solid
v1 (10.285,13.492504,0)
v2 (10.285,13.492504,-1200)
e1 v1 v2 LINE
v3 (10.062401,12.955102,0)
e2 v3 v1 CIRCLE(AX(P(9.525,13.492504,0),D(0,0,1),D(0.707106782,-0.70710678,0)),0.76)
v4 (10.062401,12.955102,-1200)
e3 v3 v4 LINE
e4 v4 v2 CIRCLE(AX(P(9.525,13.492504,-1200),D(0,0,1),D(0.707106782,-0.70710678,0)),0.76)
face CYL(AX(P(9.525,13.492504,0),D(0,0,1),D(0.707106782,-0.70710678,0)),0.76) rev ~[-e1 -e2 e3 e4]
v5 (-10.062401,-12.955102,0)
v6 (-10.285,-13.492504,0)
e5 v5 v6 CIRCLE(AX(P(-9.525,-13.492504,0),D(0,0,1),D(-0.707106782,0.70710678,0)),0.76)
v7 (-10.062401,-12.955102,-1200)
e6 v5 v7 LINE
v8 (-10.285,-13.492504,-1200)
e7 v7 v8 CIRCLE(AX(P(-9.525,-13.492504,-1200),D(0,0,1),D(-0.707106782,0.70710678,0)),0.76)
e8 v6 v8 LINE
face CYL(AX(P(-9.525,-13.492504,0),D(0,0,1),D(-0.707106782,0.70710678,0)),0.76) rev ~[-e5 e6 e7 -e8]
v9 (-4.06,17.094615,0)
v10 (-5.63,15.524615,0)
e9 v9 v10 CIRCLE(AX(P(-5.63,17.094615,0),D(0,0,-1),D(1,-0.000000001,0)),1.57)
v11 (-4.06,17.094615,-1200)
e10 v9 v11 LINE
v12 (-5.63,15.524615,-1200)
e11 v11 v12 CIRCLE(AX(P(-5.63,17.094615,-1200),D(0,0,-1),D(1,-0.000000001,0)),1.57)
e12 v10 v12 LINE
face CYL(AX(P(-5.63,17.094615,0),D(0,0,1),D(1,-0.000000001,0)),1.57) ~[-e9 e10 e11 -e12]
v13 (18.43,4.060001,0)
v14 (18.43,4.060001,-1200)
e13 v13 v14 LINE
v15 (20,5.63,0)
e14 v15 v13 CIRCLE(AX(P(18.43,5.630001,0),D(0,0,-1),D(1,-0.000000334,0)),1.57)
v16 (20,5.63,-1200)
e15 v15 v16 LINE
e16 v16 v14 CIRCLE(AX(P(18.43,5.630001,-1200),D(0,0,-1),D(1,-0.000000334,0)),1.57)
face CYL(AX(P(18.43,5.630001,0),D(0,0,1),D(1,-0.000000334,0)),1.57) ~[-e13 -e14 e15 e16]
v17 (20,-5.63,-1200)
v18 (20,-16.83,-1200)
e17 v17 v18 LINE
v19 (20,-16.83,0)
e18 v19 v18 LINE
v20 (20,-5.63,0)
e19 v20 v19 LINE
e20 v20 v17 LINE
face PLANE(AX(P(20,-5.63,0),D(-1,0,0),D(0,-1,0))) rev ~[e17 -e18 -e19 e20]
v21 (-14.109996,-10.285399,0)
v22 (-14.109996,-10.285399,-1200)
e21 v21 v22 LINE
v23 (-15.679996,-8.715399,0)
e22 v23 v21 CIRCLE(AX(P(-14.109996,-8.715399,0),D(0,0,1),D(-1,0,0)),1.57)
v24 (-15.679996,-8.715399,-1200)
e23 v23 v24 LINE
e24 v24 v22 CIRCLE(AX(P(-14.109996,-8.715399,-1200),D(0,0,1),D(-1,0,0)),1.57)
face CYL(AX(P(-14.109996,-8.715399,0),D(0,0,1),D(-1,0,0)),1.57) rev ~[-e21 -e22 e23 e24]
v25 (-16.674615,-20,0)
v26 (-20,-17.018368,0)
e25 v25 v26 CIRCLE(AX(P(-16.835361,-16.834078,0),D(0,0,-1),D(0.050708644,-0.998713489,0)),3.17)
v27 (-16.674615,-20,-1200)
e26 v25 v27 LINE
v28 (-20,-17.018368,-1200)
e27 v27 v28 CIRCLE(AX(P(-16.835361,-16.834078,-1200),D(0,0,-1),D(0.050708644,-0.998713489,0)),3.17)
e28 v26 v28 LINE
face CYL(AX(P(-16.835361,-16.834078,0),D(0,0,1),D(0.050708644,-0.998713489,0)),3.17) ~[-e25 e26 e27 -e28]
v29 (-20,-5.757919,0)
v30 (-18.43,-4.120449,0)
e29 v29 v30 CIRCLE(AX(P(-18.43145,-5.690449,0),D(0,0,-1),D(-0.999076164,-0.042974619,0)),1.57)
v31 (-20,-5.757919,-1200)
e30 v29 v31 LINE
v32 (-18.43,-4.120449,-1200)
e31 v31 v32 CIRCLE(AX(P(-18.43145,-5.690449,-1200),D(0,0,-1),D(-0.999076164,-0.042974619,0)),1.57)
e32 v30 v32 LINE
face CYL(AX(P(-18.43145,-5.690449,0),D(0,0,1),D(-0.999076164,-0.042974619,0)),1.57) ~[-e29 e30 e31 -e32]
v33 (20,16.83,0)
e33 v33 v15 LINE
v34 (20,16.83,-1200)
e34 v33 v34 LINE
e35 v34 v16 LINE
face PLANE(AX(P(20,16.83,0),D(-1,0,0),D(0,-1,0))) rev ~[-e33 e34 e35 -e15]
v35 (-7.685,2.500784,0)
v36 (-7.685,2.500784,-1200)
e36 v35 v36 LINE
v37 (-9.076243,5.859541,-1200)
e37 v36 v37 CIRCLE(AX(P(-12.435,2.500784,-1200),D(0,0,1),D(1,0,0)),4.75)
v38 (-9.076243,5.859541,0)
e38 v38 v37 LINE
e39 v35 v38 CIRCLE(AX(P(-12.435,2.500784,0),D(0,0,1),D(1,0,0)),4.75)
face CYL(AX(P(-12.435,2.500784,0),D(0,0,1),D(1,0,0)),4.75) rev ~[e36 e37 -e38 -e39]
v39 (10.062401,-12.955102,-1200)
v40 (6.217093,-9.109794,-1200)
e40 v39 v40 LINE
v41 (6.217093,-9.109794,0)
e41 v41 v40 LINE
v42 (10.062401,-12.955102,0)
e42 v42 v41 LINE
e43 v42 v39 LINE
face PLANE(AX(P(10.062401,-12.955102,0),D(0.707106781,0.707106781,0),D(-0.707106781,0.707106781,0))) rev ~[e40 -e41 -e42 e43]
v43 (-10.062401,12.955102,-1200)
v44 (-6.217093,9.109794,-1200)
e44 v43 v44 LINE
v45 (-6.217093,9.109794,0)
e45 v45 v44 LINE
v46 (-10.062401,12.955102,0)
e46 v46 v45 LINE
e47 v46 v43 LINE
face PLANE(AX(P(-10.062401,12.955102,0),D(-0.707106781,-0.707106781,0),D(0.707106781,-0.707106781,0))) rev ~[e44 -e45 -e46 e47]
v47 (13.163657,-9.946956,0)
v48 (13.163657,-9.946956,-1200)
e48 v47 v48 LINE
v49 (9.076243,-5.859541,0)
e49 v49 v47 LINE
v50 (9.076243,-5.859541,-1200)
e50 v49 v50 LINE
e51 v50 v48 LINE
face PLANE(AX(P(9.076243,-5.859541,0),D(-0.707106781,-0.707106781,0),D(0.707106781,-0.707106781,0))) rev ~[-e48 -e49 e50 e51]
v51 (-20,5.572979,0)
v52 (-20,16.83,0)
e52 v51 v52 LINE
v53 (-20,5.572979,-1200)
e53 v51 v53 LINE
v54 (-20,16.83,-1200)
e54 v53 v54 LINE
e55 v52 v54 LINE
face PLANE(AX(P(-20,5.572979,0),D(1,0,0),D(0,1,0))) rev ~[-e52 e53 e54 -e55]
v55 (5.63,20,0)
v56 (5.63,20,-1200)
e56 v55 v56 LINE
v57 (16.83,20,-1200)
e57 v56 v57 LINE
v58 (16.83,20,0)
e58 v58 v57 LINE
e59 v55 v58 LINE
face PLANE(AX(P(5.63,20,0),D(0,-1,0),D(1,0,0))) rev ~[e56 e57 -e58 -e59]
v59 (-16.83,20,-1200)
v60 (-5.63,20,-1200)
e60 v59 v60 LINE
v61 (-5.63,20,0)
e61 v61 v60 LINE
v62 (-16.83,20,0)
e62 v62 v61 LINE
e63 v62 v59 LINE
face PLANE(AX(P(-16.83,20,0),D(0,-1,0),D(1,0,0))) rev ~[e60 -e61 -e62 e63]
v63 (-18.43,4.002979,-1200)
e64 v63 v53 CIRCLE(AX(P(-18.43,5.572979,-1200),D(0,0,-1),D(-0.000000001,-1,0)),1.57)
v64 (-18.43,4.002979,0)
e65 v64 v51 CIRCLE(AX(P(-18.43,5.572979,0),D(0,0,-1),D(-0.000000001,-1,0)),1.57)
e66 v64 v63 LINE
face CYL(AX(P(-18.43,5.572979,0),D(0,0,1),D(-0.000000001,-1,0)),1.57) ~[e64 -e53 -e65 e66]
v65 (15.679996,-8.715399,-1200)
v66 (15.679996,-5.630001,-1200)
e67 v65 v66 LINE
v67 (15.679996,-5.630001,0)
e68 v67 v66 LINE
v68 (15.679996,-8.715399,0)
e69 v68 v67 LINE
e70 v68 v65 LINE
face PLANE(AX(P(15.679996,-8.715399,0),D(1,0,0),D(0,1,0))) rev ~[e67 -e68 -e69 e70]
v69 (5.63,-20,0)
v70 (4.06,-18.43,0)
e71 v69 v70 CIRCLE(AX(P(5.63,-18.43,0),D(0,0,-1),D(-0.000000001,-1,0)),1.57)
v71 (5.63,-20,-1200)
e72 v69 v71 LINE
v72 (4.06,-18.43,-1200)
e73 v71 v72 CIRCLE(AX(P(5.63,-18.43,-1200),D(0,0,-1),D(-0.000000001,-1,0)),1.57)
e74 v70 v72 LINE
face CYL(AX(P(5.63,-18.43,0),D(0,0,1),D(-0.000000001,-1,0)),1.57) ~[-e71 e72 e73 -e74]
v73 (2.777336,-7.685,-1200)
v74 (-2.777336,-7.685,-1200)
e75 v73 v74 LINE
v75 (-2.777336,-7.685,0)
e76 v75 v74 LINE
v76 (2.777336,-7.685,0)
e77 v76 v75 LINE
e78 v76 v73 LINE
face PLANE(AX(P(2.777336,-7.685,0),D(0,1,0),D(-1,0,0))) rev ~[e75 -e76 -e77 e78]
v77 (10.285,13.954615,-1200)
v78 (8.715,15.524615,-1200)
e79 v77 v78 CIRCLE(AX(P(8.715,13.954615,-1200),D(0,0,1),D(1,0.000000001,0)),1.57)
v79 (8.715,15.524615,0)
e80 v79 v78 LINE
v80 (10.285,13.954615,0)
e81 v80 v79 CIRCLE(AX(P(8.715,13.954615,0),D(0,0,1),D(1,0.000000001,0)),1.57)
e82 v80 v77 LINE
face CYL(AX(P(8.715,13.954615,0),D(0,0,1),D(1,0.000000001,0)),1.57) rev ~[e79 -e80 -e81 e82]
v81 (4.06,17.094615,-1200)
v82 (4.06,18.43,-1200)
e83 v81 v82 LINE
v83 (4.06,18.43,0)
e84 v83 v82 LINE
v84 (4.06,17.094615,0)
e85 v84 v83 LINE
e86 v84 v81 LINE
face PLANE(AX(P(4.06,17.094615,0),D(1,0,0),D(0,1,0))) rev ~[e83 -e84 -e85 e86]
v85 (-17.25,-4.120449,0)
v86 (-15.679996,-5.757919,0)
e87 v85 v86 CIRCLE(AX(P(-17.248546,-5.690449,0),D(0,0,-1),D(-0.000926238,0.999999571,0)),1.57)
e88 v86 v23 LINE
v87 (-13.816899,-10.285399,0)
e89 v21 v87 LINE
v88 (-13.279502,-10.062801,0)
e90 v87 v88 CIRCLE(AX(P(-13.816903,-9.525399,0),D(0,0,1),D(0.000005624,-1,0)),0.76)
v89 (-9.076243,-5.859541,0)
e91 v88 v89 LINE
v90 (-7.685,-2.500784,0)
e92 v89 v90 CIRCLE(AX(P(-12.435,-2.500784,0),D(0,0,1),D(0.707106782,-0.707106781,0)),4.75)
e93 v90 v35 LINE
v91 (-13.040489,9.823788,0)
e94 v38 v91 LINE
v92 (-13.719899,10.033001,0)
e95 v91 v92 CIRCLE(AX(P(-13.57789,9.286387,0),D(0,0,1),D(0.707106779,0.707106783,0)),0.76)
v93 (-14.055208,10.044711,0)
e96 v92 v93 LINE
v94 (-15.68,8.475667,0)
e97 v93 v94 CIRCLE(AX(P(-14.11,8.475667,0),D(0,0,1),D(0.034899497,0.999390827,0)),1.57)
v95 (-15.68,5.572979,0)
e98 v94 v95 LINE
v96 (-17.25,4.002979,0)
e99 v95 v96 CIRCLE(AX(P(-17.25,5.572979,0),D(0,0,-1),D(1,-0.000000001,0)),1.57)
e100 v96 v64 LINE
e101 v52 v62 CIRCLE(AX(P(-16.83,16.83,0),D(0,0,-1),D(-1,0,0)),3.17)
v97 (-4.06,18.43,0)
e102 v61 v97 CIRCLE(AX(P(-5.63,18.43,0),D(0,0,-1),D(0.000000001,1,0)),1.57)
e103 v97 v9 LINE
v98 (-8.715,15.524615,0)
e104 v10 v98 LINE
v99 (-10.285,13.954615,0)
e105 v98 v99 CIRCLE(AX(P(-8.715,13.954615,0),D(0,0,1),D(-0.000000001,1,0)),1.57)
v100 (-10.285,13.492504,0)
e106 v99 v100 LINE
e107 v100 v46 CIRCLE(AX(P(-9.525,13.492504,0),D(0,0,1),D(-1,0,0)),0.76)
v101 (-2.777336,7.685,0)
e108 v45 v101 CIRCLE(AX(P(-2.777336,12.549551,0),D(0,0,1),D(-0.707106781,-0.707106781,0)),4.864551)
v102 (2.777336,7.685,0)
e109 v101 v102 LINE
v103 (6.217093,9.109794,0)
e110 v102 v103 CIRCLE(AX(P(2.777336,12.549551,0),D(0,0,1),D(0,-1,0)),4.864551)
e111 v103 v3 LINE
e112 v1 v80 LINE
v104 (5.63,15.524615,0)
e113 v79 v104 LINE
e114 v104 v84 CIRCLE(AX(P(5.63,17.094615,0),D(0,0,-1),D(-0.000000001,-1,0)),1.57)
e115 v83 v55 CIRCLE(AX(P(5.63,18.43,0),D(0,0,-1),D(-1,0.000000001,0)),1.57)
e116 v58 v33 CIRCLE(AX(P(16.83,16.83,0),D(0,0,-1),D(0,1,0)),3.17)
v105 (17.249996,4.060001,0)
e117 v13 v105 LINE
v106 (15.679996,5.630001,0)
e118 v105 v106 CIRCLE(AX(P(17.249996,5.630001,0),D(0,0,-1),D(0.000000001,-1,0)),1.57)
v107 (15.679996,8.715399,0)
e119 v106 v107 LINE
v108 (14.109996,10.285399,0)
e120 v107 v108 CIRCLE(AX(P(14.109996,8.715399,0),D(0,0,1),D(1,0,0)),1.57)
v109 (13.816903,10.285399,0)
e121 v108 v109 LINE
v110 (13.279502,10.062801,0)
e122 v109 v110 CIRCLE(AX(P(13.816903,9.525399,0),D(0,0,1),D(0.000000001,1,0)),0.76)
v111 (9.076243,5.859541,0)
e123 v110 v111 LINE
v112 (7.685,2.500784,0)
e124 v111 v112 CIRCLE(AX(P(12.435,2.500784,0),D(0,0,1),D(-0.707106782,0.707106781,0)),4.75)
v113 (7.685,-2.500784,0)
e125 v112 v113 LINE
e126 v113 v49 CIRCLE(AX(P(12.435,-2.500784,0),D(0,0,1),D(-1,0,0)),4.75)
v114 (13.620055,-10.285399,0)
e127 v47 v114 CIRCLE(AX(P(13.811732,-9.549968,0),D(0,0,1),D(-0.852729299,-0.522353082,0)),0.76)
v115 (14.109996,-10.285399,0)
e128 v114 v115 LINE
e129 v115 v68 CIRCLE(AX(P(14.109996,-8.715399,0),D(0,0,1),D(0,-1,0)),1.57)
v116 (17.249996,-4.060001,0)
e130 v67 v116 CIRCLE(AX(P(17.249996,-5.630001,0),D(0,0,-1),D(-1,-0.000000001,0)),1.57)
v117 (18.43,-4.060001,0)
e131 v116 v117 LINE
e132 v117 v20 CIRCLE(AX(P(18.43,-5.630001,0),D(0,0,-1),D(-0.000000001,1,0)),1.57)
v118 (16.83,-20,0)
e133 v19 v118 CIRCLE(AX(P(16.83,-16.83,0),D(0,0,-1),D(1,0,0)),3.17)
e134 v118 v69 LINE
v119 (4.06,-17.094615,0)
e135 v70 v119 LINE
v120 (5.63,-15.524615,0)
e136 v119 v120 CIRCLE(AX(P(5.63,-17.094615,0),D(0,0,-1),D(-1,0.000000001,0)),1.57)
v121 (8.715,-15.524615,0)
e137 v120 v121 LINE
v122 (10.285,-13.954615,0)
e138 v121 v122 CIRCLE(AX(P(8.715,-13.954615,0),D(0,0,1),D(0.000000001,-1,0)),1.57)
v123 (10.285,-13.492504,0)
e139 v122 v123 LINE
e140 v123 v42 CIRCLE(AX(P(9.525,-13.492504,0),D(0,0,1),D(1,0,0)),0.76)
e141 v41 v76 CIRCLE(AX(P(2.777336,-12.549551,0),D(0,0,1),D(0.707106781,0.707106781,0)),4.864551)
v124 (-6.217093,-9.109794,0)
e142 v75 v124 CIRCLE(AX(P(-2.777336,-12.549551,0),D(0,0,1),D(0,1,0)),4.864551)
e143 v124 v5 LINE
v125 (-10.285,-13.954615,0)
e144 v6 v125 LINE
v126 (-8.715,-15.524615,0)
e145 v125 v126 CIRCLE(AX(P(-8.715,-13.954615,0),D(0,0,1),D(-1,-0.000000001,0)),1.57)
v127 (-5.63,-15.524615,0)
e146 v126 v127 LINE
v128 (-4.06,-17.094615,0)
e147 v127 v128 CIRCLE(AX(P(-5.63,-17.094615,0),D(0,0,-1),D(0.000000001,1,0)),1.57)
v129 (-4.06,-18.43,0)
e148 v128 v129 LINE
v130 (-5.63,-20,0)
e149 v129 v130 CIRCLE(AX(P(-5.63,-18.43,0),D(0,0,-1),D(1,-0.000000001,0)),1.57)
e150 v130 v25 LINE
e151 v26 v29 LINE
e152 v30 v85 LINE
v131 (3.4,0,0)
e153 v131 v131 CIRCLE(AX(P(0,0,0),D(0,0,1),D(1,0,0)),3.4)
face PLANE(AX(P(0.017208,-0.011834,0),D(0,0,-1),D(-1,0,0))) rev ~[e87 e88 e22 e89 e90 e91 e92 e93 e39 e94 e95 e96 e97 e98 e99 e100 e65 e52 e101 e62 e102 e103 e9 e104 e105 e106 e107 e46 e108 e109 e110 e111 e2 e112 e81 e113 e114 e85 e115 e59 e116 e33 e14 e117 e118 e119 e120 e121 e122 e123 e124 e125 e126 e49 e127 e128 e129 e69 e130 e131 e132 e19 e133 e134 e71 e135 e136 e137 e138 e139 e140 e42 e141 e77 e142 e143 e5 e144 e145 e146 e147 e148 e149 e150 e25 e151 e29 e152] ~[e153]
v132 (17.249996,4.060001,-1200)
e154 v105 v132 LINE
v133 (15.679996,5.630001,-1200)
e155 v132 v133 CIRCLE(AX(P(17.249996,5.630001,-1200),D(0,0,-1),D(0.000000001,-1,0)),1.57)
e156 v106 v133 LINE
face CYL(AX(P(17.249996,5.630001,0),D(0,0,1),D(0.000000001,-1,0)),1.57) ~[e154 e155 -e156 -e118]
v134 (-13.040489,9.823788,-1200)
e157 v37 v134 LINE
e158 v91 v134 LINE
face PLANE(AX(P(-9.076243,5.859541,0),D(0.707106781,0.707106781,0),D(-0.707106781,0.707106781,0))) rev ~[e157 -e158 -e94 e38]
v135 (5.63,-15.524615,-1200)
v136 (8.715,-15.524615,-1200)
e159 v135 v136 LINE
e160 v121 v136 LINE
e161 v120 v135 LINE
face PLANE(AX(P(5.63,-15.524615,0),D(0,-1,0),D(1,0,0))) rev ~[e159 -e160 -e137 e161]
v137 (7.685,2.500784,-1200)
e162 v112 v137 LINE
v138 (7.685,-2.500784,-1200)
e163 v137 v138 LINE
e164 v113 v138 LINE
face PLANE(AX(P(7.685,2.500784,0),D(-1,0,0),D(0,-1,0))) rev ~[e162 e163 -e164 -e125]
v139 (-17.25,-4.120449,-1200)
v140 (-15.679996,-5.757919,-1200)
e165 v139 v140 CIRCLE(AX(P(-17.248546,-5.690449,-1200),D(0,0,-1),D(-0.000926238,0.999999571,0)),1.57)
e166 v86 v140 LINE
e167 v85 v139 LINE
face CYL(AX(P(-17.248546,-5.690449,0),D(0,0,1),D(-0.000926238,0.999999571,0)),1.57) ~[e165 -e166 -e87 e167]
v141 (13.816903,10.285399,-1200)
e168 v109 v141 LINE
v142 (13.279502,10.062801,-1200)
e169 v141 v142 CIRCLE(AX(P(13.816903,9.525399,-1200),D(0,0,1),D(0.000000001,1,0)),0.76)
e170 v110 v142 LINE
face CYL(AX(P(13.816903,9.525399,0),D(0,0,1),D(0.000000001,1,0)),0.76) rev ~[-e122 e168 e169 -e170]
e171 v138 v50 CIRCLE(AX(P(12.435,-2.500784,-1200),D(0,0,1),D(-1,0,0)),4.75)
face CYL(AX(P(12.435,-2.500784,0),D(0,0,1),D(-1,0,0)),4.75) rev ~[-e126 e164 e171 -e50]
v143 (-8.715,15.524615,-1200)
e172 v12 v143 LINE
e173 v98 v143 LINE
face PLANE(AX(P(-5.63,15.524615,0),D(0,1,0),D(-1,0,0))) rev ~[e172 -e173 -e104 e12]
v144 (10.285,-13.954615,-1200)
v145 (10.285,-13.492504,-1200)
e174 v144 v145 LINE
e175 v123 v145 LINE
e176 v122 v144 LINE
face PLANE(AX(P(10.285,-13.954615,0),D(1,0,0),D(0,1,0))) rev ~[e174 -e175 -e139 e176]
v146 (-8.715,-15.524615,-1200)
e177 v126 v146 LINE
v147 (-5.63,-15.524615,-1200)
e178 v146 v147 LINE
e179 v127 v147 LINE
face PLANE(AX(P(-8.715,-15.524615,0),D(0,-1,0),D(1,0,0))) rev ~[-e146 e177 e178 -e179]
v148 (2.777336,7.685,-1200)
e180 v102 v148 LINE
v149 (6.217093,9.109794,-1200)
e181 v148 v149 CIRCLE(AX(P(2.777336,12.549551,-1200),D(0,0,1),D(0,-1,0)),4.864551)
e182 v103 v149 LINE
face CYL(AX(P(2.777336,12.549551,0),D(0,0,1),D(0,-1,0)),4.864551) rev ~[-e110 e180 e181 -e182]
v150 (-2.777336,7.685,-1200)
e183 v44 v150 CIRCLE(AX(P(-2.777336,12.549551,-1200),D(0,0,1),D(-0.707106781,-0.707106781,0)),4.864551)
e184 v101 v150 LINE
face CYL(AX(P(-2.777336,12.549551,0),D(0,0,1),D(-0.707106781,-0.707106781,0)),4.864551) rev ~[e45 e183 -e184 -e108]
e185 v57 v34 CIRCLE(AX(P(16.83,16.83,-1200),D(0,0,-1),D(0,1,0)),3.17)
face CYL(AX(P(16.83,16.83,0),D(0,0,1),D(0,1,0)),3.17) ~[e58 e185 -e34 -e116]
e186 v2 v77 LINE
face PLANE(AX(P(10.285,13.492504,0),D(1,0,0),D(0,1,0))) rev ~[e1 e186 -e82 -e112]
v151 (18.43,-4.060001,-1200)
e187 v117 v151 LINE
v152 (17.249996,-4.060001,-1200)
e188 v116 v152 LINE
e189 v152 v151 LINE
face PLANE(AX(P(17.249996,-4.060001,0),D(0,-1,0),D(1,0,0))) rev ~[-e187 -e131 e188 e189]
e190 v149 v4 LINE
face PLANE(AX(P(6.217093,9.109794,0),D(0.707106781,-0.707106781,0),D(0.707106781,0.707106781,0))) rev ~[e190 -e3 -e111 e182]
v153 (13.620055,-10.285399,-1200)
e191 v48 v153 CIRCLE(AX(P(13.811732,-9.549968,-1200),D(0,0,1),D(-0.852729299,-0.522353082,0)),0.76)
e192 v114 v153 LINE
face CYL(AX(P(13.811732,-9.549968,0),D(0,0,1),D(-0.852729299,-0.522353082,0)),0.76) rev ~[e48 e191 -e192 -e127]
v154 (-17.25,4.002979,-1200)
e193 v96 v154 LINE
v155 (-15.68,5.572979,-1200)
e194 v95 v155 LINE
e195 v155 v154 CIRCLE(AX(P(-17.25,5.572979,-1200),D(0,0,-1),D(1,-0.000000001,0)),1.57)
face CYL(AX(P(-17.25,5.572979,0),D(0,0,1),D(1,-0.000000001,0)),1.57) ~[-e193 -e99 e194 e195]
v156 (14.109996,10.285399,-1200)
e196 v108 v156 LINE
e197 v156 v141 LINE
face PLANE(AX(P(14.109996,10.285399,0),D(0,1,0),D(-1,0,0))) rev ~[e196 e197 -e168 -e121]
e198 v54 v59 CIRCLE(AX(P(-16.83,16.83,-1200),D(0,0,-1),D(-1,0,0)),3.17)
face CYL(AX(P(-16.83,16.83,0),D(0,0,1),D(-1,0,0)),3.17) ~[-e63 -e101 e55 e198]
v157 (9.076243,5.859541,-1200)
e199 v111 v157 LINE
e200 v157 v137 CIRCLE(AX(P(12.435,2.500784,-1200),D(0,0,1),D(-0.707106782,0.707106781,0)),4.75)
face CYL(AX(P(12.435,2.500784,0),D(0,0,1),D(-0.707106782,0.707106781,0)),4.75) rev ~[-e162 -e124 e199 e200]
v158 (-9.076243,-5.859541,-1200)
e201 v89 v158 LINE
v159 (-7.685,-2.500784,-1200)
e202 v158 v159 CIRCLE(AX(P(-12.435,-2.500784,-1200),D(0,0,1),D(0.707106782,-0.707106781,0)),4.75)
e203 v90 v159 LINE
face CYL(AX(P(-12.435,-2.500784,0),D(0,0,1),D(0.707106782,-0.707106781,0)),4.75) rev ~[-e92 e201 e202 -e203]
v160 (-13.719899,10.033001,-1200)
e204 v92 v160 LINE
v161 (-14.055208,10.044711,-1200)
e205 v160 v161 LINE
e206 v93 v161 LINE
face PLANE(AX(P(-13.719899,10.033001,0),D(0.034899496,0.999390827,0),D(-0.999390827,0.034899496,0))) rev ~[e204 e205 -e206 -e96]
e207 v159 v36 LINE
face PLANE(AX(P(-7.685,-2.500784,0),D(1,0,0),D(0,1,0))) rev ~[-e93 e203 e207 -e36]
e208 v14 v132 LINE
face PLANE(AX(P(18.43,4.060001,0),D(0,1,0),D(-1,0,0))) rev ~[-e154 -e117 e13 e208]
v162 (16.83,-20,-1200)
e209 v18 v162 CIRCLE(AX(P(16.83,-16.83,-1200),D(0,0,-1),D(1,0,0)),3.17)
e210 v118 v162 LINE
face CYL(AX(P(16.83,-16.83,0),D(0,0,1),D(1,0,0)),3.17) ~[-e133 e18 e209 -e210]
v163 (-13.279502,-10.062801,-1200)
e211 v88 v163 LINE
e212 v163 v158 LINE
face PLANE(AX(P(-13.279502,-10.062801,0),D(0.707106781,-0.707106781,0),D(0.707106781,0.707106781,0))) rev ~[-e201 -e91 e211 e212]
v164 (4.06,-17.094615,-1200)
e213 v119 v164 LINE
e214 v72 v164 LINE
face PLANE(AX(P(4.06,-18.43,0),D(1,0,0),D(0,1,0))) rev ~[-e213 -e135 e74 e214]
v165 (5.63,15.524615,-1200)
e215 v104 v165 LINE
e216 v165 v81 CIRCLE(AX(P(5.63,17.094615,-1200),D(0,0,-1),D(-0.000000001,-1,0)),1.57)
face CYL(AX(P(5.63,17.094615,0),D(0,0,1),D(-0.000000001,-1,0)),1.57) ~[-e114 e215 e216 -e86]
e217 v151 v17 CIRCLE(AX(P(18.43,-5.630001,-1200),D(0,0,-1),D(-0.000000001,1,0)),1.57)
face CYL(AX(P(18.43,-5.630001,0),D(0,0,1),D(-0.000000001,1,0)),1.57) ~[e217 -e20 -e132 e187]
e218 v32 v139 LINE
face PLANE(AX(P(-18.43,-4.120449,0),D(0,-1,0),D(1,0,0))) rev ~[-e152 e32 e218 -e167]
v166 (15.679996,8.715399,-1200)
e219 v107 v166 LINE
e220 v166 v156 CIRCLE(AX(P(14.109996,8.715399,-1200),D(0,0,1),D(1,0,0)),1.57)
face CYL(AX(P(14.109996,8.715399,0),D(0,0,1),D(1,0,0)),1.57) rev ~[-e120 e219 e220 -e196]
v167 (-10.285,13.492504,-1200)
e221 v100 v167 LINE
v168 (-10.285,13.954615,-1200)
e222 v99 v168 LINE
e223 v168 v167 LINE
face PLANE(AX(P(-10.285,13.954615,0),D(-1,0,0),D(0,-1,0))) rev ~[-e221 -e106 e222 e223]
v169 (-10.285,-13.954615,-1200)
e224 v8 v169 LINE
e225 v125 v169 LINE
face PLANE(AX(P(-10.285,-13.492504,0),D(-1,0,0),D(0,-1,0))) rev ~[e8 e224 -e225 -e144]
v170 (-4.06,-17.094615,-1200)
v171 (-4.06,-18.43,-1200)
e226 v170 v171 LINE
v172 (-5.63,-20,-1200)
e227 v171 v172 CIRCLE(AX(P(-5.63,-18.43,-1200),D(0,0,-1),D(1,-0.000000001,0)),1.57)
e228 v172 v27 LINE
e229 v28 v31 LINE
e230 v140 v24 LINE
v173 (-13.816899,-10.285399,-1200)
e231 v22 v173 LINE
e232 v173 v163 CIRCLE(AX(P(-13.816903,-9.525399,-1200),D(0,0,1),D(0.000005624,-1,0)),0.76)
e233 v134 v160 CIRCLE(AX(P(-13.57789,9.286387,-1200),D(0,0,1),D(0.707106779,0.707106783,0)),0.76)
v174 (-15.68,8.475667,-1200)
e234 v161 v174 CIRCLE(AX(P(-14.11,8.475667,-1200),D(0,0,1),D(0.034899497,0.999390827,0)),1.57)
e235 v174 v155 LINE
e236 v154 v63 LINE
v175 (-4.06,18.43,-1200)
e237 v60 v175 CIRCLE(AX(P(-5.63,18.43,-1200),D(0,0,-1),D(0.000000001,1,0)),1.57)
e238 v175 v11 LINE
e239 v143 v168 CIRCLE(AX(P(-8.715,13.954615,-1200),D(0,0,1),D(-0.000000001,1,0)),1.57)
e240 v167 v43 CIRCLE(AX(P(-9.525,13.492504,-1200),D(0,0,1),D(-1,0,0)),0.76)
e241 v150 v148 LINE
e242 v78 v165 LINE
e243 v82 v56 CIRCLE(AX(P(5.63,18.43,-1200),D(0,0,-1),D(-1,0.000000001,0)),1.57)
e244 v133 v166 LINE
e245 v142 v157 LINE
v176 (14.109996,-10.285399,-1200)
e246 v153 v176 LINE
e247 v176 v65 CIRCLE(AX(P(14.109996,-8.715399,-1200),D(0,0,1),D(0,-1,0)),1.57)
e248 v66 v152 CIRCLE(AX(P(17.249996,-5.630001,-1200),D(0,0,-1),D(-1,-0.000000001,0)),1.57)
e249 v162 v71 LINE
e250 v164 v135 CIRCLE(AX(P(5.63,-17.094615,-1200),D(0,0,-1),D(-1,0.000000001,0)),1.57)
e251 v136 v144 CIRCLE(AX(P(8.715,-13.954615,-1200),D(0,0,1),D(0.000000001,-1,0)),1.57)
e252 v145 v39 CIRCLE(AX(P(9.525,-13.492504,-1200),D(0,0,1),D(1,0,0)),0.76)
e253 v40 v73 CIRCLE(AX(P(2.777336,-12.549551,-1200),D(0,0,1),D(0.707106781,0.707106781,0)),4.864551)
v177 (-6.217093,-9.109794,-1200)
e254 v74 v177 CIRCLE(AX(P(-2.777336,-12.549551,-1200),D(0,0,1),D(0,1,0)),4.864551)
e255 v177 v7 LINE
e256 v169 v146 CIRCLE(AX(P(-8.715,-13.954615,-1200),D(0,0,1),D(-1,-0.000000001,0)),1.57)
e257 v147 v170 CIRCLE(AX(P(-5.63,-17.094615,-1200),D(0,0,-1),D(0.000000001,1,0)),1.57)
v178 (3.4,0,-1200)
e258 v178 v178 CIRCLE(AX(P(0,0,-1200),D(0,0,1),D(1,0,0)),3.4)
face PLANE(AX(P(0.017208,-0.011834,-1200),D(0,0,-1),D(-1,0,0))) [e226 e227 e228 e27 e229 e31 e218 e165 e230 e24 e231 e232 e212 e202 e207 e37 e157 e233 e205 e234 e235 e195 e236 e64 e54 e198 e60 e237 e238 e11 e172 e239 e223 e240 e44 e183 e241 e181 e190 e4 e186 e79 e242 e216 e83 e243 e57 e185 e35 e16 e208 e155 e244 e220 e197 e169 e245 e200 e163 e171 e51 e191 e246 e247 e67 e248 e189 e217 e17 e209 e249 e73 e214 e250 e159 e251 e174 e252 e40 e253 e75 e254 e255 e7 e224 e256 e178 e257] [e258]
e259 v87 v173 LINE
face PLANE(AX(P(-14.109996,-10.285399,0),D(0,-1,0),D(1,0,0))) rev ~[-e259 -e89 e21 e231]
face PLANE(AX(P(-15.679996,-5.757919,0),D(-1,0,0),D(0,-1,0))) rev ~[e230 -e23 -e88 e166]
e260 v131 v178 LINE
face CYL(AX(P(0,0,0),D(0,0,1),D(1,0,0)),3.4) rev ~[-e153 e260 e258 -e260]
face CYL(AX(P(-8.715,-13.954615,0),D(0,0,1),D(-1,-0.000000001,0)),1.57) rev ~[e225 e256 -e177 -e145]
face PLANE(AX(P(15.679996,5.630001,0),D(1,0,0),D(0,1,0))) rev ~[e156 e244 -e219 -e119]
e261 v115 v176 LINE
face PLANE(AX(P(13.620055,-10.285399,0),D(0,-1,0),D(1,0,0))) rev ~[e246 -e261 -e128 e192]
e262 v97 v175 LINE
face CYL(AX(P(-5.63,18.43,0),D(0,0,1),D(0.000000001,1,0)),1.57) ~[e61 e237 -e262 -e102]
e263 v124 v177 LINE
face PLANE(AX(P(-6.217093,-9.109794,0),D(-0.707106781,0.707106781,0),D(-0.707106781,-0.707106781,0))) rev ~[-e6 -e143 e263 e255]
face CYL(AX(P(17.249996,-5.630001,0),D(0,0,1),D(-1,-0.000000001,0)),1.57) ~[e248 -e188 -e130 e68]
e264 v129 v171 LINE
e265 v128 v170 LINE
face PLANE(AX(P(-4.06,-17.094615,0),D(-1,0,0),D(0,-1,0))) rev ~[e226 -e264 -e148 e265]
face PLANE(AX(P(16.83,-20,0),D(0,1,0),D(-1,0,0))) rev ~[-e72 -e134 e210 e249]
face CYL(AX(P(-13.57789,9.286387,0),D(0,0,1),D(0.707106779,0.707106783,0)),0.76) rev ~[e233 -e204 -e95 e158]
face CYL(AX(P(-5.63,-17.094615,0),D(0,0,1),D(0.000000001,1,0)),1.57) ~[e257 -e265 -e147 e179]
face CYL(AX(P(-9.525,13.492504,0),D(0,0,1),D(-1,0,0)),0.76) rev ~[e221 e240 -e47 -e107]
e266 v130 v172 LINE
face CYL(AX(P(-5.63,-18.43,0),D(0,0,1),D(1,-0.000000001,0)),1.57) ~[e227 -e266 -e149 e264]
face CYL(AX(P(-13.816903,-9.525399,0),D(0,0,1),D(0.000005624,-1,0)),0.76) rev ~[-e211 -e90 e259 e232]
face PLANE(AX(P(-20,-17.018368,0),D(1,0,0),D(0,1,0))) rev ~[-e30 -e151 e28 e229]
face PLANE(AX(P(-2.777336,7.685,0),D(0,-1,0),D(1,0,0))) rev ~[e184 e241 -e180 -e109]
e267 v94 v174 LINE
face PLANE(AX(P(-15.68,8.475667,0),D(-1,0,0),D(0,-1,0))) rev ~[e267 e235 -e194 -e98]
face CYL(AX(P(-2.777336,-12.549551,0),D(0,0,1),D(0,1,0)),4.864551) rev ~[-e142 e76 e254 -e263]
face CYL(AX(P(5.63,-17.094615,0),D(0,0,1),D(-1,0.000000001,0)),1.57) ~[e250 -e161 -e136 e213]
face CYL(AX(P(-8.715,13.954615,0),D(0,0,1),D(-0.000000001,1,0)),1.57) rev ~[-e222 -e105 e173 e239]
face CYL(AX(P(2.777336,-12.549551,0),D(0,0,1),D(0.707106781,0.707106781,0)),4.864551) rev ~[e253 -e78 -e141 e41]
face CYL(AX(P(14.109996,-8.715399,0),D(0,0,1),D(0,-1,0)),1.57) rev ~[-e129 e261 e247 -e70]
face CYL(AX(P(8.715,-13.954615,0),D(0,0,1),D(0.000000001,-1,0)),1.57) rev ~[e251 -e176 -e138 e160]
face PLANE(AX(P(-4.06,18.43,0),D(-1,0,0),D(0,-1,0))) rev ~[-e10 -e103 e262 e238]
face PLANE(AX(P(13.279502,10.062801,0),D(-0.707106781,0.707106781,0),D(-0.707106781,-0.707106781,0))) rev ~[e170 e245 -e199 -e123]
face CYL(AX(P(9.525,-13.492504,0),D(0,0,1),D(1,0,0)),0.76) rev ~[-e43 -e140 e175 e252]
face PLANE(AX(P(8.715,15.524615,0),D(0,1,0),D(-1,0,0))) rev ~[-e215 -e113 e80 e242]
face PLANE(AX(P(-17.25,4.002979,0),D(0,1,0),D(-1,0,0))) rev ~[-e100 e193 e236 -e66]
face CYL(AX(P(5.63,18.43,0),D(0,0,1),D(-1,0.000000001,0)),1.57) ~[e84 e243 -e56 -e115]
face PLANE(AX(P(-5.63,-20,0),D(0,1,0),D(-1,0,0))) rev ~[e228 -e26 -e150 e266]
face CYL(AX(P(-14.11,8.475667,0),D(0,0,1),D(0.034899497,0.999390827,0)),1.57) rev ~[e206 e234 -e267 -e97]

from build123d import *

# Parameters (mm, degrees)
SKETCH1_R      = 3.4
EXTRUDE1_DEPTH = 1200


with BuildPart() as part:
    # Sketch1 → Extrude1 (new body)
    with BuildSketch(Plane.XY):
        with BuildLine():
            Line((-8.715, -15.524615034), (-5.63, -15.524615034))
            ThreePointArc((-5.63, -15.524615034), (-4.519842354, -15.984457388), (-4.06, -17.094615034))
            Line((-4.06, -17.094615034), (-4.06, -18.43))
            ThreePointArc((-4.06, -18.43), (-4.519842354, -19.540157646), (-5.63, -20))
            Line((-5.63, -20), (-16.674615034, -20))
            ThreePointArc((-16.674615034, -20), (-18.951578385, -19.194274381), (-20, -17.018368134))
            Line((-20, -17.018368134), (-20, -5.757918808))
            ThreePointArc((-20, -5.757918808), (-19.564709668, -4.603883664), (-18.43, -4.120449326))
            Line((-18.43, -4.120449326), (-17.25, -4.120449326))
            ThreePointArc((-17.25, -4.120449326), (-16.115287682, -4.60388249), (-15.67999625, -5.757919334))
            Line((-15.67999625, -5.757919334), (-15.67999625, -8.715399492))
            ThreePointArc((-15.67999625, -8.715399492), (-15.220153896, -9.825557139), (-14.10999625, -10.285399492))
            Line((-14.10999625, -10.285399492), (-13.816898819, -10.285399492))
            ThreePointArc((-13.816898819, -10.285399492), (-13.526061711, -10.227547119), (-13.279501941, -10.062800646))
            Line((-13.279501941, -10.062800646), (-9.076242789, -5.859541495))
            ThreePointArc((-9.076242789, -5.859541495), (-8.046572221, -4.318530588), (-7.685, -2.500784284))
            Line((-7.685, -2.500784284), (-7.685, 2.500784284))
            ThreePointArc((-7.685, 2.500784284), (-8.046572221, 4.318530588), (-9.076242789, 5.859541495))
            Line((-9.076242789, 5.859541495), (-13.040489136, 9.823787841))
            ThreePointArc((-13.040489136, 9.823787841), (-13.354224618, 10.012729352), (-13.71989919, 10.033001362))
            Line((-13.71989919, 10.033001362), (-14.05520779, 10.044710596))
            ThreePointArc((-14.05520779, 10.044710596), (-15.200613642, 9.605030484), (-15.68, 8.475666998))
            Line((-15.68, 8.475666998), (-15.68, 5.572979049))
            ThreePointArc((-15.68, 5.572979049), (-16.139842354, 4.462821403), (-17.25, 4.002979049))
            Line((-17.25, 4.002979049), (-18.43, 4.002979049))
            ThreePointArc((-18.43, 4.002979049), (-19.540157646, 4.462821403), (-20, 5.572979049))
            Line((-20, 5.572979049), (-20, 13.004526564))
            Line((-20, 13.004526564), (-20, 16.83))
            ThreePointArc((-20, 16.83), (-19.071528496, 19.071528496), (-16.83, 20))
            Line((-16.83, 20), (-5.63, 20))
            ThreePointArc((-5.63, 20), (-4.519842354, 19.540157646), (-4.06, 18.43))
            Line((-4.06, 18.43), (-4.06, 17.094615034))
            ThreePointArc((-4.06, 17.094615034), (-4.519842354, 15.984457388), (-5.63, 15.524615034))
            Line((-5.63, 15.524615034), (-8.715, 15.524615034))
            ThreePointArc((-8.715, 15.524615034), (-9.825157646, 15.06477268), (-10.285, 13.954615034))
            Line((-10.285, 13.954615034), (-10.285, 13.492503602))
            ThreePointArc((-10.285, 13.492503602), (-10.227148445, 13.201664194), (-10.062401154, 12.955102448))
            Line((-10.062401154, 12.955102448), (-6.217092793, 9.109794088))
            ThreePointArc((-6.217092793, 9.109794088), (-4.63891877, 8.055291919), (-2.777335583, 7.685))
            Line((-2.777335583, 7.685), (2.777335583, 7.685))
            ThreePointArc((2.777335583, 7.685), (4.63891877, 8.055291919), (6.217092793, 9.109794088))
            Line((6.217092793, 9.109794088), (10.062401154, 12.955102448))
            ThreePointArc((10.062401154, 12.955102448), (10.227148445, 13.201664194), (10.285, 13.492503602))
            Line((10.285, 13.492503602), (10.285, 13.954615034))
            ThreePointArc((10.285, 13.954615034), (9.825157646, 15.06477268), (8.715, 15.524615034))
            Line((8.715, 15.524615034), (5.63, 15.524615034))
            ThreePointArc((5.63, 15.524615034), (4.519842354, 15.984457388), (4.06, 17.094615034))
            Line((4.06, 17.094615034), (4.06, 18.43))
            ThreePointArc((4.06, 18.43), (4.519842354, 19.540157646), (5.63, 20))
            Line((5.63, 20), (12.979635074, 20))
            Line((12.979635074, 20), (16.83, 20))
            ThreePointArc((16.83, 20), (19.071528496, 19.071528496), (20, 16.83))
            Line((20, 16.83), (20, 13.001098436))
            Line((20, 13.001098436), (20, 5.63))
            ThreePointArc((20, 5.63), (19.540157461, 4.519842693), (18.43, 4.060000526))
            Line((18.43, 4.060000526), (17.24999625, 4.060000526))
            ThreePointArc((17.24999625, 4.060000526), (16.139838603, 4.519842879), (15.67999625, 5.630000526))
            Line((15.67999625, 5.630000526), (15.67999625, 8.715399492))
            ThreePointArc((15.67999625, 8.715399492), (15.220153896, 9.825557139), (14.10999625, 10.285399492))
            Line((14.10999625, 10.285399492), (13.816903094, 10.285399492))
            ThreePointArc((13.816903094, 10.285399492), (13.526063686, 10.227547937), (13.279501941, 10.062800646))
            Line((13.279501941, 10.062800646), (9.076242789, 5.859541495))
            ThreePointArc((9.076242789, 5.859541495), (8.046572221, 4.318530588), (7.685, 2.500784284))
            Line((7.685, 2.500784284), (7.685, -2.500784284))
            ThreePointArc((7.685, -2.500784284), (8.046572221, -4.318530588), (9.076242789, -5.859541495))
            Line((9.076242789, -5.859541495), (13.163657296, -9.946956002))
            ThreePointArc((13.163657296, -9.946956002), (13.35903797, -10.160433474), (13.6200547, -10.285399492))
            Line((13.6200547, -10.285399492), (14.10999625, -10.285399492))
            ThreePointArc((14.10999625, -10.285399492), (15.220153896, -9.825557139), (15.67999625, -8.715399492))
            Line((15.67999625, -8.715399492), (15.67999625, -5.630000526))
            ThreePointArc((15.67999625, -5.630000526), (16.139838603, -4.519842879), (17.24999625, -4.060000526))
            Line((17.24999625, -4.060000526), (18.43, -4.060000526))
            ThreePointArc((18.43, -4.060000526), (19.540157461, -4.519842693), (20, -5.63))
            Line((20, -5.63), (20, -16.83))
            ThreePointArc((20, -16.83), (19.071528496, -19.071528496), (16.83, -20))
            Line((16.83, -20), (13, -20))
            Line((13, -20), (5.63, -20))
            ThreePointArc((5.63, -20), (4.519842354, -19.540157646), (4.06, -18.43))
            Line((4.06, -18.43), (4.06, -17.094615034))
            ThreePointArc((4.06, -17.094615034), (4.519842354, -15.984457388), (5.63, -15.524615034))
            Line((5.63, -15.524615034), (8.715, -15.524615034))
            ThreePointArc((8.715, -15.524615034), (9.825157646, -15.06477268), (10.285, -13.954615034))
            Line((10.285, -13.954615034), (10.285, -13.492503602))
            ThreePointArc((10.285, -13.492503602), (10.227148445, -13.201664194), (10.062401154, -12.955102448))
            Line((10.062401154, -12.955102448), (6.217092793, -9.109794088))
            ThreePointArc((6.217092793, -9.109794088), (4.63891877, -8.055291919), (2.777335583, -7.685))
            Line((2.777335583, -7.685), (-2.777335583, -7.685))
            ThreePointArc((-2.777335583, -7.685), (-4.63891877, -8.055291919), (-6.217092793, -9.109794088))
            Line((-6.217092793, -9.109794088), (-10.062401154, -12.955102448))
            ThreePointArc((-10.062401154, -12.955102448), (-10.227148445, -13.201664194), (-10.285, -13.492503602))
            Line((-10.285, -13.492503602), (-10.285, -13.954615034))
            ThreePointArc((-10.285, -13.954615034), (-9.825157646, -15.06477268), (-8.715, -15.524615034))
        make_face()
        Circle(SKETCH1_R, mode=Mode.SUBTRACT)
    extrude(amount=-EXTRUDE1_DEPTH)


solid = part.part
